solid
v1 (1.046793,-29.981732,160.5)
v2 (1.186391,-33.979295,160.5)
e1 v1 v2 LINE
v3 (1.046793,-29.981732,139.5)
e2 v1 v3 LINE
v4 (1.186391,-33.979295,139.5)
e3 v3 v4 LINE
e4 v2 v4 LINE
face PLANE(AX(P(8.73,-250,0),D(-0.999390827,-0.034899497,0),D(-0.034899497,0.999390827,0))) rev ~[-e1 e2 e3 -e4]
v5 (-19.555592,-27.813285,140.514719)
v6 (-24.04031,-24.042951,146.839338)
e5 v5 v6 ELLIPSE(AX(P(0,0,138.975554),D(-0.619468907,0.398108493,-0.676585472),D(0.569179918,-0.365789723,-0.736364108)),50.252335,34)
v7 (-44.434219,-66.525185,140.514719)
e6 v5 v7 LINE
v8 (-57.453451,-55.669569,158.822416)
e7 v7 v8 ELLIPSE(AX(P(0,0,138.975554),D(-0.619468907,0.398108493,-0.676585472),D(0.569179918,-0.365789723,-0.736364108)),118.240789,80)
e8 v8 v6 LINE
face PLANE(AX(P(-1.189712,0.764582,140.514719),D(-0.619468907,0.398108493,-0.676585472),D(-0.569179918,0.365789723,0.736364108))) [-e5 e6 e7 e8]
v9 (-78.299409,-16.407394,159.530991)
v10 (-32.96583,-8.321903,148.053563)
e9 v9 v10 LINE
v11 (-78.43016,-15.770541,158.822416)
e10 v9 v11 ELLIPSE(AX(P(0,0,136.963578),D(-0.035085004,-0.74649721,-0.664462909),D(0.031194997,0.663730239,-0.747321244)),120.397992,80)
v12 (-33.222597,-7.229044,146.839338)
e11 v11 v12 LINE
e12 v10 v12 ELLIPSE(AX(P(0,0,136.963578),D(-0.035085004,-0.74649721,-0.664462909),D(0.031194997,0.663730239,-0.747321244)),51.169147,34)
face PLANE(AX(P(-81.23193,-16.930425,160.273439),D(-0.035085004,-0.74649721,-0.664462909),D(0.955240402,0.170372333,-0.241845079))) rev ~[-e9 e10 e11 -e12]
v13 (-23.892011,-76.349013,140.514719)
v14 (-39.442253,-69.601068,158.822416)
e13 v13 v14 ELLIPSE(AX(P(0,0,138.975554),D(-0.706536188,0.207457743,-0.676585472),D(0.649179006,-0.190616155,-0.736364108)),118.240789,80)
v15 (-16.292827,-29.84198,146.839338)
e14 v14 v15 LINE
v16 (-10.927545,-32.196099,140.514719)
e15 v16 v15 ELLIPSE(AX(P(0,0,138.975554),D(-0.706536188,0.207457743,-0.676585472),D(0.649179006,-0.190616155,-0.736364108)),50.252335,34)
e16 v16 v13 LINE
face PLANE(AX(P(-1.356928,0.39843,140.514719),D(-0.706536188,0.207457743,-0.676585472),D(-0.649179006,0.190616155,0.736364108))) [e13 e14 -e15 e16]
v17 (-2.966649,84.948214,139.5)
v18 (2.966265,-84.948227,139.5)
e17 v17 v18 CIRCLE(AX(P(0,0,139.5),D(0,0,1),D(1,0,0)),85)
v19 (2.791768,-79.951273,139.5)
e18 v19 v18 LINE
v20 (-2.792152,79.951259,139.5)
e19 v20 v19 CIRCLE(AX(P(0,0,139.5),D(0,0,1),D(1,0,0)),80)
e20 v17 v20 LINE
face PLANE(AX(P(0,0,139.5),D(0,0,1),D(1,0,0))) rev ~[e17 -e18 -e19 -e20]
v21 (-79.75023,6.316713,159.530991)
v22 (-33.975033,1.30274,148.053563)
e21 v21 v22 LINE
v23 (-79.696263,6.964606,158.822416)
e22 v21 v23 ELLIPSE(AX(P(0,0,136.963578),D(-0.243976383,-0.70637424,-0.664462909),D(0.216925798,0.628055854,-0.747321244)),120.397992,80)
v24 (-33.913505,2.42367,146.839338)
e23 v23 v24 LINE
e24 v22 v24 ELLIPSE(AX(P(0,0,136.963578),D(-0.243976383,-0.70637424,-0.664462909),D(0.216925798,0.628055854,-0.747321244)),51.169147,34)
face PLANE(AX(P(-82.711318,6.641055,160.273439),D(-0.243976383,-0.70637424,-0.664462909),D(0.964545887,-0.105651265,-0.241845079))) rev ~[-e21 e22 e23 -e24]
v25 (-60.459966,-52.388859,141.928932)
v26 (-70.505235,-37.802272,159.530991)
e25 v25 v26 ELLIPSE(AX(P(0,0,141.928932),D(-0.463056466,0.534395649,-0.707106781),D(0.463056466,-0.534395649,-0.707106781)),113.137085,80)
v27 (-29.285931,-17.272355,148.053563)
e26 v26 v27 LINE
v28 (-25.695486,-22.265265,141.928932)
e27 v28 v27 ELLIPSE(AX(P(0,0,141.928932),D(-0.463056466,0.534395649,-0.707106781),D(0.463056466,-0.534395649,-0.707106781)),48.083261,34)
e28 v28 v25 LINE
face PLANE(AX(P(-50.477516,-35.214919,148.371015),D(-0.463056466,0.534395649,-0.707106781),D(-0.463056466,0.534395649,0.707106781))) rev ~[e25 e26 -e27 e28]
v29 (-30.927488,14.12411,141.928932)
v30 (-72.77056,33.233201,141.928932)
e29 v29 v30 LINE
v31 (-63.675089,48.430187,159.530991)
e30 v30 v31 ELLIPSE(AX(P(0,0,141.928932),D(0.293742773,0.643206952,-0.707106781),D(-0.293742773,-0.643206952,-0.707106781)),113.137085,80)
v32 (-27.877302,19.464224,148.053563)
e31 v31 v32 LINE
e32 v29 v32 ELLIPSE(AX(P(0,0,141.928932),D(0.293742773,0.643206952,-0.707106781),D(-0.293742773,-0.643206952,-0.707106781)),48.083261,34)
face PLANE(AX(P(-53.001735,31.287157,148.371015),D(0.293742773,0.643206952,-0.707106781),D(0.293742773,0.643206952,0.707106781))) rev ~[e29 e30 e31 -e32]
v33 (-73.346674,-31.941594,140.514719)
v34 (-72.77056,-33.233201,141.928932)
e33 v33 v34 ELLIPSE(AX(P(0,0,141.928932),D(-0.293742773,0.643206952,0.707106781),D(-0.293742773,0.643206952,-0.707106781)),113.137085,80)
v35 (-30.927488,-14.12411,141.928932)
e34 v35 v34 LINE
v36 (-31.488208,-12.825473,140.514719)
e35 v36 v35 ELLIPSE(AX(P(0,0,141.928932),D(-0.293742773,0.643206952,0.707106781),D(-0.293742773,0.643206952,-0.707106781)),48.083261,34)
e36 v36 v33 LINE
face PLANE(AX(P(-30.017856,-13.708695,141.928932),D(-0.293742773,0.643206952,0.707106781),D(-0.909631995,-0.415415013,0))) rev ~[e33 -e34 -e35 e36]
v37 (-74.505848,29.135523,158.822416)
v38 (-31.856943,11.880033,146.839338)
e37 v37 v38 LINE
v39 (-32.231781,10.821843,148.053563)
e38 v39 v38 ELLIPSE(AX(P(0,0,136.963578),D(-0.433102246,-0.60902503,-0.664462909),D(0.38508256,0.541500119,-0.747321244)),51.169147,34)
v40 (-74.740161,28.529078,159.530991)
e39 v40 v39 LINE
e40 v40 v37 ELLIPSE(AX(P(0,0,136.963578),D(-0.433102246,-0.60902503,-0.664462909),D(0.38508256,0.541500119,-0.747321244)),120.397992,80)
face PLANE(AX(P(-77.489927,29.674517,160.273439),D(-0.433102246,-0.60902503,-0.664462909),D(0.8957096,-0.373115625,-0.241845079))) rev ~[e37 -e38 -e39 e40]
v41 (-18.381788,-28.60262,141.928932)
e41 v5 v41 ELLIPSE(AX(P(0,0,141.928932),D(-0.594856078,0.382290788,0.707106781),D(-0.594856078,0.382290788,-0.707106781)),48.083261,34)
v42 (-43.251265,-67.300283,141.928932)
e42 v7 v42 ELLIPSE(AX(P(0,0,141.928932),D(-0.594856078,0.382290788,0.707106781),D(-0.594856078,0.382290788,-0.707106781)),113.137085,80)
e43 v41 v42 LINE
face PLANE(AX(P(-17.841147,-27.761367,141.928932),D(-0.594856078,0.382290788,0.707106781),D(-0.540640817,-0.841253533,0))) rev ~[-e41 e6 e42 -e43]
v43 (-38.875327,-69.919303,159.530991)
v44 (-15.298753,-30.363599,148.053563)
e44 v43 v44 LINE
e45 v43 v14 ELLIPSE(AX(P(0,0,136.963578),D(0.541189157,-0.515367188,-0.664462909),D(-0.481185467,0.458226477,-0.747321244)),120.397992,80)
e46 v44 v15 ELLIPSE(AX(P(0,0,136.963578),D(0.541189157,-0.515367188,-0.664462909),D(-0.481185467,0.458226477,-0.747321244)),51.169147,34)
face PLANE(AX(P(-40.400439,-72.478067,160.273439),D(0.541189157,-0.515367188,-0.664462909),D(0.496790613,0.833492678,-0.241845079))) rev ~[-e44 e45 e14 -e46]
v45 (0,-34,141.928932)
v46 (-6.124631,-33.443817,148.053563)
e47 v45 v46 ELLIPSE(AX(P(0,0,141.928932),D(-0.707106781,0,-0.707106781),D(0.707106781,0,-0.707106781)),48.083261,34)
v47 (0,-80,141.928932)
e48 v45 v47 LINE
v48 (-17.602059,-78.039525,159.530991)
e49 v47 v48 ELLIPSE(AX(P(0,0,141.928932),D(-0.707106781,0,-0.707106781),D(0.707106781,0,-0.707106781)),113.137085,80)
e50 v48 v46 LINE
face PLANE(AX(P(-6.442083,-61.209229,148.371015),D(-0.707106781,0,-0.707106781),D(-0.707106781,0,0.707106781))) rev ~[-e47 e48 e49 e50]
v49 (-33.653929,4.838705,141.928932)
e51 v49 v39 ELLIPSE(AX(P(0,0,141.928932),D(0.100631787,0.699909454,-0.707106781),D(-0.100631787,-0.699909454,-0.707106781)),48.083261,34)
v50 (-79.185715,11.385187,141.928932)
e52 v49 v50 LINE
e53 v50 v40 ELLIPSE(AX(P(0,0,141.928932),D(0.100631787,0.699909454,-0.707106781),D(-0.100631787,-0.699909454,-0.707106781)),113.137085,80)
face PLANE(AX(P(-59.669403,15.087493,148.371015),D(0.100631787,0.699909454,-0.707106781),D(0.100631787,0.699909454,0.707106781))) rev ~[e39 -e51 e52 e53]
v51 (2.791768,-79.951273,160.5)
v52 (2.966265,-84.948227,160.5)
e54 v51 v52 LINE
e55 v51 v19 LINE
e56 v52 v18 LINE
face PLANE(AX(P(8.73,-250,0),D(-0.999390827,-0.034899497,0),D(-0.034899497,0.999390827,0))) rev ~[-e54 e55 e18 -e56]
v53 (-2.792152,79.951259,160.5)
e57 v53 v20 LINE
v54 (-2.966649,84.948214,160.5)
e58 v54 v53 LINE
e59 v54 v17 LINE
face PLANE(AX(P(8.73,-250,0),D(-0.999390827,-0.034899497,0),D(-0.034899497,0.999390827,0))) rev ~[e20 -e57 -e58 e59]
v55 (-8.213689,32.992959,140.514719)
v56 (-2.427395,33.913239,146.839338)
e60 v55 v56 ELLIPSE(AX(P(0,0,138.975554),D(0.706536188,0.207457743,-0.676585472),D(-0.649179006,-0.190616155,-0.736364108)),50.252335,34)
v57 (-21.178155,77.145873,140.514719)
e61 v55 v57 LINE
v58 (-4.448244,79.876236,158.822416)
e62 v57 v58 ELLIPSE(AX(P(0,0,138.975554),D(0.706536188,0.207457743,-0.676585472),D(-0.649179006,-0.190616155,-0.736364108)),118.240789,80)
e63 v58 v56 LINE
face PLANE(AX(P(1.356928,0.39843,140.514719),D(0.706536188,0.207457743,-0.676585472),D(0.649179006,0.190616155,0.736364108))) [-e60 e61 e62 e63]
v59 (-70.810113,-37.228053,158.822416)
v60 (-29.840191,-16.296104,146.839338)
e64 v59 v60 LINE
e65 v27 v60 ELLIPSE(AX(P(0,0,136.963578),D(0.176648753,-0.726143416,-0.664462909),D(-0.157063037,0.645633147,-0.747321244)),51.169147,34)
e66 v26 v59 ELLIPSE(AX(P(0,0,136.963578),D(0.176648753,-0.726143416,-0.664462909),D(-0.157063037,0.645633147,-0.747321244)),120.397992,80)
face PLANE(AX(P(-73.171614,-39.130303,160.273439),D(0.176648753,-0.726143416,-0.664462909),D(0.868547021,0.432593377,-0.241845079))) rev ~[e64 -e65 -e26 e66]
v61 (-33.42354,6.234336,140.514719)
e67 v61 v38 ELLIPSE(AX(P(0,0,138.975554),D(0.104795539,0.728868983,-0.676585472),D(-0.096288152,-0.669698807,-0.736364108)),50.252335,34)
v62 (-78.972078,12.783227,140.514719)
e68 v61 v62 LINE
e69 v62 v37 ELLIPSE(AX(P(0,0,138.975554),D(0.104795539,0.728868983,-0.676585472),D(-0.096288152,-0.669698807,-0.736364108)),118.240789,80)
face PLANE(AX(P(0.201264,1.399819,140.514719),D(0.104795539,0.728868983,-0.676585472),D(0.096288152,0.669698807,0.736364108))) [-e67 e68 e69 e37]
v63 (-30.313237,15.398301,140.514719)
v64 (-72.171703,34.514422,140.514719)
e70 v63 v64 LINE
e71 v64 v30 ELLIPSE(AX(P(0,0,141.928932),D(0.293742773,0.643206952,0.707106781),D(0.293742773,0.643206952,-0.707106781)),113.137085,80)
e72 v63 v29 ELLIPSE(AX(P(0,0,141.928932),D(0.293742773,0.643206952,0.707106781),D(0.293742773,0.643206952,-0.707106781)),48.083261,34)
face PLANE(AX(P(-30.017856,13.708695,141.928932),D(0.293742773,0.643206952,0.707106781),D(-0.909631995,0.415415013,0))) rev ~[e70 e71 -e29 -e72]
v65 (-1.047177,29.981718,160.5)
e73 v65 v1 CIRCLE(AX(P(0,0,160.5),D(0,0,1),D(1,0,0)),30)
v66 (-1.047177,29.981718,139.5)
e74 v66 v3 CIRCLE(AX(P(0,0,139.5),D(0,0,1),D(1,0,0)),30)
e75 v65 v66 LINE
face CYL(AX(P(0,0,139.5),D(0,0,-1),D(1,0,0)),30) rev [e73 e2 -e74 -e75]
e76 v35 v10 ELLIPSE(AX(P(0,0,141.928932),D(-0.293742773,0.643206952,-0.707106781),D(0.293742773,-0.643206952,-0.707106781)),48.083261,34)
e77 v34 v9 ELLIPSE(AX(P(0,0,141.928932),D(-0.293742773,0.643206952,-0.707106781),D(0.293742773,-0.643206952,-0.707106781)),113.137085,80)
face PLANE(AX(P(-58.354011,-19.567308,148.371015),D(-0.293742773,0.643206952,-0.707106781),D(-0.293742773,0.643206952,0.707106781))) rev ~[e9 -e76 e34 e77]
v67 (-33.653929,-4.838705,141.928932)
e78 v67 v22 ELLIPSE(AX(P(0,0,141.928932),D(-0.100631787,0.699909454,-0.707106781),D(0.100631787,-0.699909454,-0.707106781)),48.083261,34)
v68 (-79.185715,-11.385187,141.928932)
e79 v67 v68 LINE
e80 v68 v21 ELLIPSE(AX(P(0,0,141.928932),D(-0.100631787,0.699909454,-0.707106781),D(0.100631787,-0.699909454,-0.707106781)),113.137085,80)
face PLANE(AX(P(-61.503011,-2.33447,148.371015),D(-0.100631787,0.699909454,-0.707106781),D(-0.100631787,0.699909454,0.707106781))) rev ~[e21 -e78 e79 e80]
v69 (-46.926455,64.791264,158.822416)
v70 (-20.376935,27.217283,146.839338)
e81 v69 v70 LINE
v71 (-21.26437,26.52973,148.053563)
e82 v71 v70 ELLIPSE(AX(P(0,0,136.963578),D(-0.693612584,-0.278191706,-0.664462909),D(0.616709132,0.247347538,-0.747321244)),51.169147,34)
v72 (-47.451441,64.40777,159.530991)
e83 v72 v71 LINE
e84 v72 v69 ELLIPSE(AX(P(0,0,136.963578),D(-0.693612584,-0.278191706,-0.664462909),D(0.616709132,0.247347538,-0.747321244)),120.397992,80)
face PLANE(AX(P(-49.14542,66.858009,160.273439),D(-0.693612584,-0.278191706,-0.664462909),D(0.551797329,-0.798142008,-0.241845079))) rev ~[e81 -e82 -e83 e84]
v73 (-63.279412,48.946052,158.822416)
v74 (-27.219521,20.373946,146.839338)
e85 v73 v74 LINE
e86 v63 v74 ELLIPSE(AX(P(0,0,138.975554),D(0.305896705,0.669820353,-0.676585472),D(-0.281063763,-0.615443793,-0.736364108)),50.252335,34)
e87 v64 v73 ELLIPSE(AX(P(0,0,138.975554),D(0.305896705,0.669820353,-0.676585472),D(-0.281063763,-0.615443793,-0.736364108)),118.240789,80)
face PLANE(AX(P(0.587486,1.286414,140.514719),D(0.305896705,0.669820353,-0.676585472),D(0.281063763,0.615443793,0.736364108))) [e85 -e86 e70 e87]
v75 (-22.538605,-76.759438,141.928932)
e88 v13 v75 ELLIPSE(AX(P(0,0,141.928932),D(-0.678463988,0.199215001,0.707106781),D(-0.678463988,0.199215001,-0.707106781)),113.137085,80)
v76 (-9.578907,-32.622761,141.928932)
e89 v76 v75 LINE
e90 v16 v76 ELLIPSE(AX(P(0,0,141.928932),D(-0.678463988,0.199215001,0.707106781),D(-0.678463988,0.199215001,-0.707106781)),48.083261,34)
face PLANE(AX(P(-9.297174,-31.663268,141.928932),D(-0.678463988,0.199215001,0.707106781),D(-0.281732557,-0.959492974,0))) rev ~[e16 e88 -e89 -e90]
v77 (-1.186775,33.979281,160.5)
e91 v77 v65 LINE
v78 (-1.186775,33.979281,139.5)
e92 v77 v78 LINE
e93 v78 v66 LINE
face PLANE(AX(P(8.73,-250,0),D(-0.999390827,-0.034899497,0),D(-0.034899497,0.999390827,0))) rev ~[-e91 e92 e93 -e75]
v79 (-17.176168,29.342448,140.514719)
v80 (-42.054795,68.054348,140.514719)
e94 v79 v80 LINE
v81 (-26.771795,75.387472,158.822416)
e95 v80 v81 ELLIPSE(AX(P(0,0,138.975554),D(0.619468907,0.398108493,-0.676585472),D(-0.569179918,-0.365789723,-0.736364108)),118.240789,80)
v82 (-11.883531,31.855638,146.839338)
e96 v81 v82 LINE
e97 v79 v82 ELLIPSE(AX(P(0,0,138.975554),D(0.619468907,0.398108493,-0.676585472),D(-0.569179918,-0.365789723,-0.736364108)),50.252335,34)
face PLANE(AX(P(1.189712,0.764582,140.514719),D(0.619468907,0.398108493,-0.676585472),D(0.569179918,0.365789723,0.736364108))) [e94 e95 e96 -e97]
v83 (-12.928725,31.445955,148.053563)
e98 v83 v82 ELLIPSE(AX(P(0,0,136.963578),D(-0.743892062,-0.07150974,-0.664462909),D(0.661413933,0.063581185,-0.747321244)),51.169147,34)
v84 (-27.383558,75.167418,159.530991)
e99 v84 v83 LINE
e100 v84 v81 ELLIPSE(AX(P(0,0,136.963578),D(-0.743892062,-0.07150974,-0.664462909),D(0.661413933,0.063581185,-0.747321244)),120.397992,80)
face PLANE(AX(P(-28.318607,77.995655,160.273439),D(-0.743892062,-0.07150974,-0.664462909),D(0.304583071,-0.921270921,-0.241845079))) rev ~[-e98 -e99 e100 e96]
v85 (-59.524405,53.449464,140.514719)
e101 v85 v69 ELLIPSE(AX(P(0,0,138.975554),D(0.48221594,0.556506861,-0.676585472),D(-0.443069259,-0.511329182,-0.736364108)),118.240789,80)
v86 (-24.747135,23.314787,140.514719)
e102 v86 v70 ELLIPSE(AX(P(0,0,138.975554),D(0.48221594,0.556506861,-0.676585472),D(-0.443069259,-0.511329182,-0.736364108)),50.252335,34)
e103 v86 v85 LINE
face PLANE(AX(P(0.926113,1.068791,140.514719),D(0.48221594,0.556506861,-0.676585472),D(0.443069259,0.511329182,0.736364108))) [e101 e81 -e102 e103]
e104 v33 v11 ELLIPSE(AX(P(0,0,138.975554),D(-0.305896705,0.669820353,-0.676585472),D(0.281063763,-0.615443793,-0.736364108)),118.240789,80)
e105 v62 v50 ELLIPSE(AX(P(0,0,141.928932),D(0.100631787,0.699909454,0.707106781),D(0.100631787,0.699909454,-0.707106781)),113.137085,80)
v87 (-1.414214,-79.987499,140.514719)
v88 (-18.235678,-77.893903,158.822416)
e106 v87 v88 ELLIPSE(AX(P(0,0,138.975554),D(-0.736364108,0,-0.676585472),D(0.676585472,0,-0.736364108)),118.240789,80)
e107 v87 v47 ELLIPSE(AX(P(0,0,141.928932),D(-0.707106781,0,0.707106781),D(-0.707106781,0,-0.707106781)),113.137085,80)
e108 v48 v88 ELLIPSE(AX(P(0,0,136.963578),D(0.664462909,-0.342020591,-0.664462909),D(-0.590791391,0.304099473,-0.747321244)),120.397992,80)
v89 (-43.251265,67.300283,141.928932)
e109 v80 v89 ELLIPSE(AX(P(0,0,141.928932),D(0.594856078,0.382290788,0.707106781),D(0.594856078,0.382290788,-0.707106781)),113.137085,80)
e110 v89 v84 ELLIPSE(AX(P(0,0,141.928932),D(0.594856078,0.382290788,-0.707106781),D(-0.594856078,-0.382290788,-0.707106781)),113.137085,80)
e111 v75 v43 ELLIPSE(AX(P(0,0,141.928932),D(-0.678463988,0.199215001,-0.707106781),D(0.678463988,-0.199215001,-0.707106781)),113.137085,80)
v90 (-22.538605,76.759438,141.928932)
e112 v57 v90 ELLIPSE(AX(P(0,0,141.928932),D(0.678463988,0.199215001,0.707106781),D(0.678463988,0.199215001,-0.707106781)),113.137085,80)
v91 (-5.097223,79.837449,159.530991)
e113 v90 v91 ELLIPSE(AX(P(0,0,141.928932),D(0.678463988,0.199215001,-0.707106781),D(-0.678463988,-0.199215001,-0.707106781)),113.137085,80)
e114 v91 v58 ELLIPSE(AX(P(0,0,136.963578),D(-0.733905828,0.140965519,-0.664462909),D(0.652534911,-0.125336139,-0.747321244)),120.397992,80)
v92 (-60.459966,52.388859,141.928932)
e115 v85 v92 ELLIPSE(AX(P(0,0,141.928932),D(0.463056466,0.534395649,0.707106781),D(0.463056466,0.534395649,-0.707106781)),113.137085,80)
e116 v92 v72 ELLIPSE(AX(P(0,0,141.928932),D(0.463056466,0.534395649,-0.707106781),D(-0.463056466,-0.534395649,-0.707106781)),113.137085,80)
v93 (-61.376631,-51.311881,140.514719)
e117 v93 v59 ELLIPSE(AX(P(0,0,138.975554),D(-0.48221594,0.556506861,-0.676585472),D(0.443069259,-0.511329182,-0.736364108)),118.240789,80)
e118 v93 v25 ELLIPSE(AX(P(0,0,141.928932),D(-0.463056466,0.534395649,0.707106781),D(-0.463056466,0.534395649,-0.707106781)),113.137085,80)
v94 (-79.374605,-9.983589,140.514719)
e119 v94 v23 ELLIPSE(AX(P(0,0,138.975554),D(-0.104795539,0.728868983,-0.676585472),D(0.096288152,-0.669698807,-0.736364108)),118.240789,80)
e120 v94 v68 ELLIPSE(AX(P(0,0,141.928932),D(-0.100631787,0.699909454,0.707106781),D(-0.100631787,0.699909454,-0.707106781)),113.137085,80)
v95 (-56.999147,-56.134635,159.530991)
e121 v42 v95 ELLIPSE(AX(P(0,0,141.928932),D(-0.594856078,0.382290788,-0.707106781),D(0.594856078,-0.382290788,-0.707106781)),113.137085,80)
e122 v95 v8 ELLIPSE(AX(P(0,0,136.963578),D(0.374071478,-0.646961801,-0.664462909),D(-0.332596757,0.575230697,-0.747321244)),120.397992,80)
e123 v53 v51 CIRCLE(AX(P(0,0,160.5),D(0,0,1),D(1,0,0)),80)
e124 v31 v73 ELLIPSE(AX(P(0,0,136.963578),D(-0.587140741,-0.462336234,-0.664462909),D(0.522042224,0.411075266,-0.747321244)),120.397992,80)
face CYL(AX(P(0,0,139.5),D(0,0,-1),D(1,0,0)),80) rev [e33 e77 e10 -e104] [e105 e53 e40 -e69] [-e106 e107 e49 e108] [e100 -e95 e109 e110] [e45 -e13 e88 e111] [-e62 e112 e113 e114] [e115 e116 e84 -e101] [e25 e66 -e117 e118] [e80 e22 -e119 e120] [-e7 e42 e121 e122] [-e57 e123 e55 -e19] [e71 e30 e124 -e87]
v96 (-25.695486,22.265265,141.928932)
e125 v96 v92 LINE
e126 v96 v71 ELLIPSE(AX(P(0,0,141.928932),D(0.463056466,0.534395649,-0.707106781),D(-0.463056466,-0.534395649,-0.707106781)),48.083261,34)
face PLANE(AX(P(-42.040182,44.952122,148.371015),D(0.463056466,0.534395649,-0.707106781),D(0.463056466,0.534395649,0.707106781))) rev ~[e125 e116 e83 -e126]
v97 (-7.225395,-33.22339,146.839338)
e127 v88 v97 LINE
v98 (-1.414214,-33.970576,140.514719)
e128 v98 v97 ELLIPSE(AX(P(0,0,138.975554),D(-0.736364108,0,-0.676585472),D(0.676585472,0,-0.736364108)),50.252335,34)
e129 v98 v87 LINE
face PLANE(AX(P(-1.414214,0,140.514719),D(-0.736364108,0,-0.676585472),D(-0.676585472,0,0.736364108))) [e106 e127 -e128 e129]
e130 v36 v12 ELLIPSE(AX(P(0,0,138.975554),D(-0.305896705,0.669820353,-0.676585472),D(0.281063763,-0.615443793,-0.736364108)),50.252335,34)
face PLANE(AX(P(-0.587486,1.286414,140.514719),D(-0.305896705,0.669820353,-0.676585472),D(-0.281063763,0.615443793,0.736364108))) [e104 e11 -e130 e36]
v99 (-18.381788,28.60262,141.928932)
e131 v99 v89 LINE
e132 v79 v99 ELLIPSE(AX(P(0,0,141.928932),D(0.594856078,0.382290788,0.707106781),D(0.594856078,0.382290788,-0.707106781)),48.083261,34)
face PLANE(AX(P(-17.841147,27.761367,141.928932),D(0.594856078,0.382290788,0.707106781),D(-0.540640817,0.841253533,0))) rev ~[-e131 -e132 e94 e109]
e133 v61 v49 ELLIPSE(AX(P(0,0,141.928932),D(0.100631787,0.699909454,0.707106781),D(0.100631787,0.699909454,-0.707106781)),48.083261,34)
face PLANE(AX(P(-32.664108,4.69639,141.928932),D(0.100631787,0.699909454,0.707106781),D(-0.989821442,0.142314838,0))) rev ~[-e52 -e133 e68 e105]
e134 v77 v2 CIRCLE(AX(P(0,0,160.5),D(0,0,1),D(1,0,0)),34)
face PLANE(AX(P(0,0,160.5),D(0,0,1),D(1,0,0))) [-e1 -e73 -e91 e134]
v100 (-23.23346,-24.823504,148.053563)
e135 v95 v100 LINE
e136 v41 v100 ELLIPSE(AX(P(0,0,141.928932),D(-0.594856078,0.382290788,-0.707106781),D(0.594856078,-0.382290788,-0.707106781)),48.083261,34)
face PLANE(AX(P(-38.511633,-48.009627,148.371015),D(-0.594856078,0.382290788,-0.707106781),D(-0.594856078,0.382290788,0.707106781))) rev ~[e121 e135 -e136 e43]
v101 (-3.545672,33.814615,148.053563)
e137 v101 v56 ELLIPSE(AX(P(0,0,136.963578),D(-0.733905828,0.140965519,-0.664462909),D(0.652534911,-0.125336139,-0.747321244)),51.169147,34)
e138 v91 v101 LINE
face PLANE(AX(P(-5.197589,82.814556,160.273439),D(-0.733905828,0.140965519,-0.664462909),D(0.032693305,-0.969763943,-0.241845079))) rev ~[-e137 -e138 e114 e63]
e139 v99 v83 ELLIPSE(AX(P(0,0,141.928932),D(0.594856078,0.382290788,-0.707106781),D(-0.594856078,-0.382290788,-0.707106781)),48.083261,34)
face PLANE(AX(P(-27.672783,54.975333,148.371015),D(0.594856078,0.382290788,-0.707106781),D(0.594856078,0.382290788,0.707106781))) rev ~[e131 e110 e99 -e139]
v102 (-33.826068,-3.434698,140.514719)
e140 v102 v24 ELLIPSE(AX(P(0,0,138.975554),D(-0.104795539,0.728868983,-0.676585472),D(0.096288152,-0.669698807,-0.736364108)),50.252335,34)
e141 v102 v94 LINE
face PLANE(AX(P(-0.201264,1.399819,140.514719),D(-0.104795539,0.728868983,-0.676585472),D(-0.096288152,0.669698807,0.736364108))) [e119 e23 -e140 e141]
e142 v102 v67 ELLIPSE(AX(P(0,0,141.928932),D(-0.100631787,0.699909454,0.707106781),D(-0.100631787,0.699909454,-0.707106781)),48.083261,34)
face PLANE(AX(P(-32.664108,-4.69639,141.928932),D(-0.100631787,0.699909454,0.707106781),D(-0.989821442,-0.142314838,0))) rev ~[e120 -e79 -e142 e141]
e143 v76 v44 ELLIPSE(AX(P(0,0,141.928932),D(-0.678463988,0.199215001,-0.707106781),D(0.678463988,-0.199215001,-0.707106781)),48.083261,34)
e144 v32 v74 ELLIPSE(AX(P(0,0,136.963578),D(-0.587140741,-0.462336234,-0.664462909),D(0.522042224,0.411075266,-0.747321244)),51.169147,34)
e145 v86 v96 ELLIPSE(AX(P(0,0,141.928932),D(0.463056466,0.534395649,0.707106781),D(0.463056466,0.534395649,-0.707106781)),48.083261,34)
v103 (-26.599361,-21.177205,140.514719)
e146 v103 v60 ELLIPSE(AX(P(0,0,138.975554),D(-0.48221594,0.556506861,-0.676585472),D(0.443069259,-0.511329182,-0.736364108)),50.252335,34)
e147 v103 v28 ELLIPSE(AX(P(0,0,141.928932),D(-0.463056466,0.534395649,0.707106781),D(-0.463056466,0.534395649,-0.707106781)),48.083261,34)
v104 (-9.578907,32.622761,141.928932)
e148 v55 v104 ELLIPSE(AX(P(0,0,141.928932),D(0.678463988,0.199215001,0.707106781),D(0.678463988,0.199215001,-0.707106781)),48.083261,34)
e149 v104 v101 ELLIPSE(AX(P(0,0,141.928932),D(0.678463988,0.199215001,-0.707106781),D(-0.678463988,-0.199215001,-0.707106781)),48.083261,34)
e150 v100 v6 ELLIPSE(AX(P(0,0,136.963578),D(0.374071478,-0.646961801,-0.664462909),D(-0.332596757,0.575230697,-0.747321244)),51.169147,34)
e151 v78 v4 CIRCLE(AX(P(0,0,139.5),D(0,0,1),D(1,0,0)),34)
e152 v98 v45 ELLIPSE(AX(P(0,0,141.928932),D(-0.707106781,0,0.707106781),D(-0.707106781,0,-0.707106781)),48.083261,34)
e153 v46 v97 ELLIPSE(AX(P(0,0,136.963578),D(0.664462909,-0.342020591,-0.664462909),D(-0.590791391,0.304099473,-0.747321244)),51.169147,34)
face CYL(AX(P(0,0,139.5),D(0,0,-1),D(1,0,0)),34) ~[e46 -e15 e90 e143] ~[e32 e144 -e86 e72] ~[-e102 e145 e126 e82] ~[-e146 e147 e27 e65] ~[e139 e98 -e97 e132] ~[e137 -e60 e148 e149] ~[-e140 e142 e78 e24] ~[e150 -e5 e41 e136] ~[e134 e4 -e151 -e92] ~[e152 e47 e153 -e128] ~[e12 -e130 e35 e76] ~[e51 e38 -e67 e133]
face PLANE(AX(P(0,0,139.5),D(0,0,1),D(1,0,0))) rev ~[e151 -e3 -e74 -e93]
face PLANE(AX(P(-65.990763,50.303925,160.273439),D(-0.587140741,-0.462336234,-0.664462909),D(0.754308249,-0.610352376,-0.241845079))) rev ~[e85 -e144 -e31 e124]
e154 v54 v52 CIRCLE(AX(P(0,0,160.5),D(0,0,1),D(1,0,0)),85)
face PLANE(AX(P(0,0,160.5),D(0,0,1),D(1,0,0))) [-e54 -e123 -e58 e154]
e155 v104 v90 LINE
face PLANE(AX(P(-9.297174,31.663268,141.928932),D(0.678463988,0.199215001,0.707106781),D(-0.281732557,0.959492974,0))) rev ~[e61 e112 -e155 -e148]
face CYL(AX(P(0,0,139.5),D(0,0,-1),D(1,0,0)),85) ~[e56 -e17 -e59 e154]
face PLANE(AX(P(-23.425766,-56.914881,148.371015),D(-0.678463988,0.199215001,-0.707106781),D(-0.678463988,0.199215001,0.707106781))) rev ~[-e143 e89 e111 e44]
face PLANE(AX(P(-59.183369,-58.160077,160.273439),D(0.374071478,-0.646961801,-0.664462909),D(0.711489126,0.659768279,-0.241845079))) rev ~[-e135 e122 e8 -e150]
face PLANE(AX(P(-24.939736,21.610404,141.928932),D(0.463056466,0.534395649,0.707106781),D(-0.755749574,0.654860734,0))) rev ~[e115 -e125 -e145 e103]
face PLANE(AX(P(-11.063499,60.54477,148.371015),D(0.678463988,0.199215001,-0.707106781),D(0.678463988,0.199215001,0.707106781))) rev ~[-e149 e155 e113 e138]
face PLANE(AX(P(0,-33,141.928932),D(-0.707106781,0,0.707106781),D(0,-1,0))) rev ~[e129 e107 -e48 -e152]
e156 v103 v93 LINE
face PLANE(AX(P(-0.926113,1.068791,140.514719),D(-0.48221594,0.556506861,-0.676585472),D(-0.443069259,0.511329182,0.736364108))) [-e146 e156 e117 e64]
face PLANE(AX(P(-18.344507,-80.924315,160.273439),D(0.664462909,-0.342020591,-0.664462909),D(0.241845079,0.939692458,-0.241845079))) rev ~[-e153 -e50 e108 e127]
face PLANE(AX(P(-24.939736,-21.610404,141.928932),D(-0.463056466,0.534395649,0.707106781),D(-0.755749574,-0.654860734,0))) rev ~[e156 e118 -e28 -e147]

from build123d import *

# Parameters (mm, degrees)
BOX001_W                  = 500
BOX001_H                  = 500
BOX001_DEPTH              = 500
BOX001_PLACEMENT_ANGLE    = 2
TUBE034_R                 = 85
TUBE034_R_2               = 80
TUBE034_DEPTH             = 21
TUBE033_R                 = 100
TUBE033_R_2               = 80
TUBE033_DEPTH             = 200
PAD032_DEPTH              = 100
PAD033_DEPTH              = 2
COMMON014_PLACEMENT_ANGLE = 45
ARRAY014_COUNT            = 22
ARRAY014_PLACEMENT_ANGLE  = 180
TUBE035_R                 = 34
TUBE035_R_2               = 30
TUBE035_DEPTH             = 21


with BuildPart() as cube001:
    # Box001 → Box001 (new body)
    with BuildSketch(Plane.XY):
        with Locations((250, 250)):
            Rectangle(BOX001_W, BOX001_H)
    extrude(amount=BOX001_DEPTH)


with BuildPart() as cube001_1:
    # Box001 placement: moved
    add(cube001.part.moved(Location((8.73, -250, 0))).rotate(Axis((8.73, -250, 0), (0, 0, 1)), BOX001_PLACEMENT_ANGLE))


with BuildPart() as tube034:
    # Tube034 → Tube034 (new body)
    with BuildSketch(Plane.XY.offset(139.5)):
        Circle(TUBE034_R)
        Circle(TUBE034_R_2, mode=Mode.SUBTRACT)
    extrude(amount=TUBE034_DEPTH)


with BuildPart() as tube033:
    # Tube033 → Tube033 (new body)
    with BuildSketch(Plane.XY):
        Circle(TUBE033_R)
        Circle(TUBE033_R_2, mode=Mode.SUBTRACT)
    extrude(amount=TUBE033_DEPTH)


with BuildPart() as body033:
    # Sketch032 → Pad032 (new body)
    with BuildSketch(Plane.XZ):
        Polygon((0, 0), (0, 2), (26, 0.9), (26, 0), align=None)
    extrude(amount=PAD032_DEPTH)


with BuildPart() as body033_1:
    # Body033 placement: moved
    add(body033.part.moved(Location((-5, 0, 5))))


with BuildPart() as cut008:
    # Sketch033 → Pad033 (new body)
    with BuildSketch(Plane.XY):
        Polygon((0, 0), (0, -52), (25.94305, -47.924315), (8.5, 0), align=None)
    extrude(amount=PAD033_DEPTH)


with BuildPart() as cut008_1:
    # Body034 placement: moved
    add(cut008.part.moved(Location((-5, -33, 5))))

    # Common014: intersect Body033
    add(body033_1.part, mode=Mode.INTERSECT)


with BuildPart() as cut008_2:
    # Common014 placement: moved
    add(cut008_1.part.rotate(Axis((0, 0, 0), (0, 1, 0)), COMMON014_PLACEMENT_ANGLE))

    # Array014: Cut008 ×22 about axis
    array014_axis = Axis((0, 0, 0), (0, 0, 1))


with BuildPart() as cut008_3:
    add(cut008_2.part)
    for i in range(1, ARRAY014_COUNT):
        add(cut008_2.part.rotate(array014_axis, i * 360 / ARRAY014_COUNT))


with BuildPart() as cut008_4:
    # Array014 placement: moved
    add(cut008_3.part.moved(Location((0, 0, 149))).rotate(Axis((0, 0, 149), (0, 1, 0)), ARRAY014_PLACEMENT_ANGLE))

    # Cut008: cut Tube033
    add(tube033.part, mode=Mode.SUBTRACT)


with BuildPart() as statorh2:
    # Tube035 → Tube035 (new body)
    with BuildSketch(Plane.XY.offset(139.5)):
        Circle(TUBE035_R)
        Circle(TUBE035_R_2, mode=Mode.SUBTRACT)
    extrude(amount=TUBE035_DEPTH)

    # Fusion016: union Tube034, Cut008
    add(tube034.part)
    add(cut008_4.part)

    # Cut009: cut Cube001
    add(cube001_1.part, mode=Mode.SUBTRACT)


solid = statorh2.part
